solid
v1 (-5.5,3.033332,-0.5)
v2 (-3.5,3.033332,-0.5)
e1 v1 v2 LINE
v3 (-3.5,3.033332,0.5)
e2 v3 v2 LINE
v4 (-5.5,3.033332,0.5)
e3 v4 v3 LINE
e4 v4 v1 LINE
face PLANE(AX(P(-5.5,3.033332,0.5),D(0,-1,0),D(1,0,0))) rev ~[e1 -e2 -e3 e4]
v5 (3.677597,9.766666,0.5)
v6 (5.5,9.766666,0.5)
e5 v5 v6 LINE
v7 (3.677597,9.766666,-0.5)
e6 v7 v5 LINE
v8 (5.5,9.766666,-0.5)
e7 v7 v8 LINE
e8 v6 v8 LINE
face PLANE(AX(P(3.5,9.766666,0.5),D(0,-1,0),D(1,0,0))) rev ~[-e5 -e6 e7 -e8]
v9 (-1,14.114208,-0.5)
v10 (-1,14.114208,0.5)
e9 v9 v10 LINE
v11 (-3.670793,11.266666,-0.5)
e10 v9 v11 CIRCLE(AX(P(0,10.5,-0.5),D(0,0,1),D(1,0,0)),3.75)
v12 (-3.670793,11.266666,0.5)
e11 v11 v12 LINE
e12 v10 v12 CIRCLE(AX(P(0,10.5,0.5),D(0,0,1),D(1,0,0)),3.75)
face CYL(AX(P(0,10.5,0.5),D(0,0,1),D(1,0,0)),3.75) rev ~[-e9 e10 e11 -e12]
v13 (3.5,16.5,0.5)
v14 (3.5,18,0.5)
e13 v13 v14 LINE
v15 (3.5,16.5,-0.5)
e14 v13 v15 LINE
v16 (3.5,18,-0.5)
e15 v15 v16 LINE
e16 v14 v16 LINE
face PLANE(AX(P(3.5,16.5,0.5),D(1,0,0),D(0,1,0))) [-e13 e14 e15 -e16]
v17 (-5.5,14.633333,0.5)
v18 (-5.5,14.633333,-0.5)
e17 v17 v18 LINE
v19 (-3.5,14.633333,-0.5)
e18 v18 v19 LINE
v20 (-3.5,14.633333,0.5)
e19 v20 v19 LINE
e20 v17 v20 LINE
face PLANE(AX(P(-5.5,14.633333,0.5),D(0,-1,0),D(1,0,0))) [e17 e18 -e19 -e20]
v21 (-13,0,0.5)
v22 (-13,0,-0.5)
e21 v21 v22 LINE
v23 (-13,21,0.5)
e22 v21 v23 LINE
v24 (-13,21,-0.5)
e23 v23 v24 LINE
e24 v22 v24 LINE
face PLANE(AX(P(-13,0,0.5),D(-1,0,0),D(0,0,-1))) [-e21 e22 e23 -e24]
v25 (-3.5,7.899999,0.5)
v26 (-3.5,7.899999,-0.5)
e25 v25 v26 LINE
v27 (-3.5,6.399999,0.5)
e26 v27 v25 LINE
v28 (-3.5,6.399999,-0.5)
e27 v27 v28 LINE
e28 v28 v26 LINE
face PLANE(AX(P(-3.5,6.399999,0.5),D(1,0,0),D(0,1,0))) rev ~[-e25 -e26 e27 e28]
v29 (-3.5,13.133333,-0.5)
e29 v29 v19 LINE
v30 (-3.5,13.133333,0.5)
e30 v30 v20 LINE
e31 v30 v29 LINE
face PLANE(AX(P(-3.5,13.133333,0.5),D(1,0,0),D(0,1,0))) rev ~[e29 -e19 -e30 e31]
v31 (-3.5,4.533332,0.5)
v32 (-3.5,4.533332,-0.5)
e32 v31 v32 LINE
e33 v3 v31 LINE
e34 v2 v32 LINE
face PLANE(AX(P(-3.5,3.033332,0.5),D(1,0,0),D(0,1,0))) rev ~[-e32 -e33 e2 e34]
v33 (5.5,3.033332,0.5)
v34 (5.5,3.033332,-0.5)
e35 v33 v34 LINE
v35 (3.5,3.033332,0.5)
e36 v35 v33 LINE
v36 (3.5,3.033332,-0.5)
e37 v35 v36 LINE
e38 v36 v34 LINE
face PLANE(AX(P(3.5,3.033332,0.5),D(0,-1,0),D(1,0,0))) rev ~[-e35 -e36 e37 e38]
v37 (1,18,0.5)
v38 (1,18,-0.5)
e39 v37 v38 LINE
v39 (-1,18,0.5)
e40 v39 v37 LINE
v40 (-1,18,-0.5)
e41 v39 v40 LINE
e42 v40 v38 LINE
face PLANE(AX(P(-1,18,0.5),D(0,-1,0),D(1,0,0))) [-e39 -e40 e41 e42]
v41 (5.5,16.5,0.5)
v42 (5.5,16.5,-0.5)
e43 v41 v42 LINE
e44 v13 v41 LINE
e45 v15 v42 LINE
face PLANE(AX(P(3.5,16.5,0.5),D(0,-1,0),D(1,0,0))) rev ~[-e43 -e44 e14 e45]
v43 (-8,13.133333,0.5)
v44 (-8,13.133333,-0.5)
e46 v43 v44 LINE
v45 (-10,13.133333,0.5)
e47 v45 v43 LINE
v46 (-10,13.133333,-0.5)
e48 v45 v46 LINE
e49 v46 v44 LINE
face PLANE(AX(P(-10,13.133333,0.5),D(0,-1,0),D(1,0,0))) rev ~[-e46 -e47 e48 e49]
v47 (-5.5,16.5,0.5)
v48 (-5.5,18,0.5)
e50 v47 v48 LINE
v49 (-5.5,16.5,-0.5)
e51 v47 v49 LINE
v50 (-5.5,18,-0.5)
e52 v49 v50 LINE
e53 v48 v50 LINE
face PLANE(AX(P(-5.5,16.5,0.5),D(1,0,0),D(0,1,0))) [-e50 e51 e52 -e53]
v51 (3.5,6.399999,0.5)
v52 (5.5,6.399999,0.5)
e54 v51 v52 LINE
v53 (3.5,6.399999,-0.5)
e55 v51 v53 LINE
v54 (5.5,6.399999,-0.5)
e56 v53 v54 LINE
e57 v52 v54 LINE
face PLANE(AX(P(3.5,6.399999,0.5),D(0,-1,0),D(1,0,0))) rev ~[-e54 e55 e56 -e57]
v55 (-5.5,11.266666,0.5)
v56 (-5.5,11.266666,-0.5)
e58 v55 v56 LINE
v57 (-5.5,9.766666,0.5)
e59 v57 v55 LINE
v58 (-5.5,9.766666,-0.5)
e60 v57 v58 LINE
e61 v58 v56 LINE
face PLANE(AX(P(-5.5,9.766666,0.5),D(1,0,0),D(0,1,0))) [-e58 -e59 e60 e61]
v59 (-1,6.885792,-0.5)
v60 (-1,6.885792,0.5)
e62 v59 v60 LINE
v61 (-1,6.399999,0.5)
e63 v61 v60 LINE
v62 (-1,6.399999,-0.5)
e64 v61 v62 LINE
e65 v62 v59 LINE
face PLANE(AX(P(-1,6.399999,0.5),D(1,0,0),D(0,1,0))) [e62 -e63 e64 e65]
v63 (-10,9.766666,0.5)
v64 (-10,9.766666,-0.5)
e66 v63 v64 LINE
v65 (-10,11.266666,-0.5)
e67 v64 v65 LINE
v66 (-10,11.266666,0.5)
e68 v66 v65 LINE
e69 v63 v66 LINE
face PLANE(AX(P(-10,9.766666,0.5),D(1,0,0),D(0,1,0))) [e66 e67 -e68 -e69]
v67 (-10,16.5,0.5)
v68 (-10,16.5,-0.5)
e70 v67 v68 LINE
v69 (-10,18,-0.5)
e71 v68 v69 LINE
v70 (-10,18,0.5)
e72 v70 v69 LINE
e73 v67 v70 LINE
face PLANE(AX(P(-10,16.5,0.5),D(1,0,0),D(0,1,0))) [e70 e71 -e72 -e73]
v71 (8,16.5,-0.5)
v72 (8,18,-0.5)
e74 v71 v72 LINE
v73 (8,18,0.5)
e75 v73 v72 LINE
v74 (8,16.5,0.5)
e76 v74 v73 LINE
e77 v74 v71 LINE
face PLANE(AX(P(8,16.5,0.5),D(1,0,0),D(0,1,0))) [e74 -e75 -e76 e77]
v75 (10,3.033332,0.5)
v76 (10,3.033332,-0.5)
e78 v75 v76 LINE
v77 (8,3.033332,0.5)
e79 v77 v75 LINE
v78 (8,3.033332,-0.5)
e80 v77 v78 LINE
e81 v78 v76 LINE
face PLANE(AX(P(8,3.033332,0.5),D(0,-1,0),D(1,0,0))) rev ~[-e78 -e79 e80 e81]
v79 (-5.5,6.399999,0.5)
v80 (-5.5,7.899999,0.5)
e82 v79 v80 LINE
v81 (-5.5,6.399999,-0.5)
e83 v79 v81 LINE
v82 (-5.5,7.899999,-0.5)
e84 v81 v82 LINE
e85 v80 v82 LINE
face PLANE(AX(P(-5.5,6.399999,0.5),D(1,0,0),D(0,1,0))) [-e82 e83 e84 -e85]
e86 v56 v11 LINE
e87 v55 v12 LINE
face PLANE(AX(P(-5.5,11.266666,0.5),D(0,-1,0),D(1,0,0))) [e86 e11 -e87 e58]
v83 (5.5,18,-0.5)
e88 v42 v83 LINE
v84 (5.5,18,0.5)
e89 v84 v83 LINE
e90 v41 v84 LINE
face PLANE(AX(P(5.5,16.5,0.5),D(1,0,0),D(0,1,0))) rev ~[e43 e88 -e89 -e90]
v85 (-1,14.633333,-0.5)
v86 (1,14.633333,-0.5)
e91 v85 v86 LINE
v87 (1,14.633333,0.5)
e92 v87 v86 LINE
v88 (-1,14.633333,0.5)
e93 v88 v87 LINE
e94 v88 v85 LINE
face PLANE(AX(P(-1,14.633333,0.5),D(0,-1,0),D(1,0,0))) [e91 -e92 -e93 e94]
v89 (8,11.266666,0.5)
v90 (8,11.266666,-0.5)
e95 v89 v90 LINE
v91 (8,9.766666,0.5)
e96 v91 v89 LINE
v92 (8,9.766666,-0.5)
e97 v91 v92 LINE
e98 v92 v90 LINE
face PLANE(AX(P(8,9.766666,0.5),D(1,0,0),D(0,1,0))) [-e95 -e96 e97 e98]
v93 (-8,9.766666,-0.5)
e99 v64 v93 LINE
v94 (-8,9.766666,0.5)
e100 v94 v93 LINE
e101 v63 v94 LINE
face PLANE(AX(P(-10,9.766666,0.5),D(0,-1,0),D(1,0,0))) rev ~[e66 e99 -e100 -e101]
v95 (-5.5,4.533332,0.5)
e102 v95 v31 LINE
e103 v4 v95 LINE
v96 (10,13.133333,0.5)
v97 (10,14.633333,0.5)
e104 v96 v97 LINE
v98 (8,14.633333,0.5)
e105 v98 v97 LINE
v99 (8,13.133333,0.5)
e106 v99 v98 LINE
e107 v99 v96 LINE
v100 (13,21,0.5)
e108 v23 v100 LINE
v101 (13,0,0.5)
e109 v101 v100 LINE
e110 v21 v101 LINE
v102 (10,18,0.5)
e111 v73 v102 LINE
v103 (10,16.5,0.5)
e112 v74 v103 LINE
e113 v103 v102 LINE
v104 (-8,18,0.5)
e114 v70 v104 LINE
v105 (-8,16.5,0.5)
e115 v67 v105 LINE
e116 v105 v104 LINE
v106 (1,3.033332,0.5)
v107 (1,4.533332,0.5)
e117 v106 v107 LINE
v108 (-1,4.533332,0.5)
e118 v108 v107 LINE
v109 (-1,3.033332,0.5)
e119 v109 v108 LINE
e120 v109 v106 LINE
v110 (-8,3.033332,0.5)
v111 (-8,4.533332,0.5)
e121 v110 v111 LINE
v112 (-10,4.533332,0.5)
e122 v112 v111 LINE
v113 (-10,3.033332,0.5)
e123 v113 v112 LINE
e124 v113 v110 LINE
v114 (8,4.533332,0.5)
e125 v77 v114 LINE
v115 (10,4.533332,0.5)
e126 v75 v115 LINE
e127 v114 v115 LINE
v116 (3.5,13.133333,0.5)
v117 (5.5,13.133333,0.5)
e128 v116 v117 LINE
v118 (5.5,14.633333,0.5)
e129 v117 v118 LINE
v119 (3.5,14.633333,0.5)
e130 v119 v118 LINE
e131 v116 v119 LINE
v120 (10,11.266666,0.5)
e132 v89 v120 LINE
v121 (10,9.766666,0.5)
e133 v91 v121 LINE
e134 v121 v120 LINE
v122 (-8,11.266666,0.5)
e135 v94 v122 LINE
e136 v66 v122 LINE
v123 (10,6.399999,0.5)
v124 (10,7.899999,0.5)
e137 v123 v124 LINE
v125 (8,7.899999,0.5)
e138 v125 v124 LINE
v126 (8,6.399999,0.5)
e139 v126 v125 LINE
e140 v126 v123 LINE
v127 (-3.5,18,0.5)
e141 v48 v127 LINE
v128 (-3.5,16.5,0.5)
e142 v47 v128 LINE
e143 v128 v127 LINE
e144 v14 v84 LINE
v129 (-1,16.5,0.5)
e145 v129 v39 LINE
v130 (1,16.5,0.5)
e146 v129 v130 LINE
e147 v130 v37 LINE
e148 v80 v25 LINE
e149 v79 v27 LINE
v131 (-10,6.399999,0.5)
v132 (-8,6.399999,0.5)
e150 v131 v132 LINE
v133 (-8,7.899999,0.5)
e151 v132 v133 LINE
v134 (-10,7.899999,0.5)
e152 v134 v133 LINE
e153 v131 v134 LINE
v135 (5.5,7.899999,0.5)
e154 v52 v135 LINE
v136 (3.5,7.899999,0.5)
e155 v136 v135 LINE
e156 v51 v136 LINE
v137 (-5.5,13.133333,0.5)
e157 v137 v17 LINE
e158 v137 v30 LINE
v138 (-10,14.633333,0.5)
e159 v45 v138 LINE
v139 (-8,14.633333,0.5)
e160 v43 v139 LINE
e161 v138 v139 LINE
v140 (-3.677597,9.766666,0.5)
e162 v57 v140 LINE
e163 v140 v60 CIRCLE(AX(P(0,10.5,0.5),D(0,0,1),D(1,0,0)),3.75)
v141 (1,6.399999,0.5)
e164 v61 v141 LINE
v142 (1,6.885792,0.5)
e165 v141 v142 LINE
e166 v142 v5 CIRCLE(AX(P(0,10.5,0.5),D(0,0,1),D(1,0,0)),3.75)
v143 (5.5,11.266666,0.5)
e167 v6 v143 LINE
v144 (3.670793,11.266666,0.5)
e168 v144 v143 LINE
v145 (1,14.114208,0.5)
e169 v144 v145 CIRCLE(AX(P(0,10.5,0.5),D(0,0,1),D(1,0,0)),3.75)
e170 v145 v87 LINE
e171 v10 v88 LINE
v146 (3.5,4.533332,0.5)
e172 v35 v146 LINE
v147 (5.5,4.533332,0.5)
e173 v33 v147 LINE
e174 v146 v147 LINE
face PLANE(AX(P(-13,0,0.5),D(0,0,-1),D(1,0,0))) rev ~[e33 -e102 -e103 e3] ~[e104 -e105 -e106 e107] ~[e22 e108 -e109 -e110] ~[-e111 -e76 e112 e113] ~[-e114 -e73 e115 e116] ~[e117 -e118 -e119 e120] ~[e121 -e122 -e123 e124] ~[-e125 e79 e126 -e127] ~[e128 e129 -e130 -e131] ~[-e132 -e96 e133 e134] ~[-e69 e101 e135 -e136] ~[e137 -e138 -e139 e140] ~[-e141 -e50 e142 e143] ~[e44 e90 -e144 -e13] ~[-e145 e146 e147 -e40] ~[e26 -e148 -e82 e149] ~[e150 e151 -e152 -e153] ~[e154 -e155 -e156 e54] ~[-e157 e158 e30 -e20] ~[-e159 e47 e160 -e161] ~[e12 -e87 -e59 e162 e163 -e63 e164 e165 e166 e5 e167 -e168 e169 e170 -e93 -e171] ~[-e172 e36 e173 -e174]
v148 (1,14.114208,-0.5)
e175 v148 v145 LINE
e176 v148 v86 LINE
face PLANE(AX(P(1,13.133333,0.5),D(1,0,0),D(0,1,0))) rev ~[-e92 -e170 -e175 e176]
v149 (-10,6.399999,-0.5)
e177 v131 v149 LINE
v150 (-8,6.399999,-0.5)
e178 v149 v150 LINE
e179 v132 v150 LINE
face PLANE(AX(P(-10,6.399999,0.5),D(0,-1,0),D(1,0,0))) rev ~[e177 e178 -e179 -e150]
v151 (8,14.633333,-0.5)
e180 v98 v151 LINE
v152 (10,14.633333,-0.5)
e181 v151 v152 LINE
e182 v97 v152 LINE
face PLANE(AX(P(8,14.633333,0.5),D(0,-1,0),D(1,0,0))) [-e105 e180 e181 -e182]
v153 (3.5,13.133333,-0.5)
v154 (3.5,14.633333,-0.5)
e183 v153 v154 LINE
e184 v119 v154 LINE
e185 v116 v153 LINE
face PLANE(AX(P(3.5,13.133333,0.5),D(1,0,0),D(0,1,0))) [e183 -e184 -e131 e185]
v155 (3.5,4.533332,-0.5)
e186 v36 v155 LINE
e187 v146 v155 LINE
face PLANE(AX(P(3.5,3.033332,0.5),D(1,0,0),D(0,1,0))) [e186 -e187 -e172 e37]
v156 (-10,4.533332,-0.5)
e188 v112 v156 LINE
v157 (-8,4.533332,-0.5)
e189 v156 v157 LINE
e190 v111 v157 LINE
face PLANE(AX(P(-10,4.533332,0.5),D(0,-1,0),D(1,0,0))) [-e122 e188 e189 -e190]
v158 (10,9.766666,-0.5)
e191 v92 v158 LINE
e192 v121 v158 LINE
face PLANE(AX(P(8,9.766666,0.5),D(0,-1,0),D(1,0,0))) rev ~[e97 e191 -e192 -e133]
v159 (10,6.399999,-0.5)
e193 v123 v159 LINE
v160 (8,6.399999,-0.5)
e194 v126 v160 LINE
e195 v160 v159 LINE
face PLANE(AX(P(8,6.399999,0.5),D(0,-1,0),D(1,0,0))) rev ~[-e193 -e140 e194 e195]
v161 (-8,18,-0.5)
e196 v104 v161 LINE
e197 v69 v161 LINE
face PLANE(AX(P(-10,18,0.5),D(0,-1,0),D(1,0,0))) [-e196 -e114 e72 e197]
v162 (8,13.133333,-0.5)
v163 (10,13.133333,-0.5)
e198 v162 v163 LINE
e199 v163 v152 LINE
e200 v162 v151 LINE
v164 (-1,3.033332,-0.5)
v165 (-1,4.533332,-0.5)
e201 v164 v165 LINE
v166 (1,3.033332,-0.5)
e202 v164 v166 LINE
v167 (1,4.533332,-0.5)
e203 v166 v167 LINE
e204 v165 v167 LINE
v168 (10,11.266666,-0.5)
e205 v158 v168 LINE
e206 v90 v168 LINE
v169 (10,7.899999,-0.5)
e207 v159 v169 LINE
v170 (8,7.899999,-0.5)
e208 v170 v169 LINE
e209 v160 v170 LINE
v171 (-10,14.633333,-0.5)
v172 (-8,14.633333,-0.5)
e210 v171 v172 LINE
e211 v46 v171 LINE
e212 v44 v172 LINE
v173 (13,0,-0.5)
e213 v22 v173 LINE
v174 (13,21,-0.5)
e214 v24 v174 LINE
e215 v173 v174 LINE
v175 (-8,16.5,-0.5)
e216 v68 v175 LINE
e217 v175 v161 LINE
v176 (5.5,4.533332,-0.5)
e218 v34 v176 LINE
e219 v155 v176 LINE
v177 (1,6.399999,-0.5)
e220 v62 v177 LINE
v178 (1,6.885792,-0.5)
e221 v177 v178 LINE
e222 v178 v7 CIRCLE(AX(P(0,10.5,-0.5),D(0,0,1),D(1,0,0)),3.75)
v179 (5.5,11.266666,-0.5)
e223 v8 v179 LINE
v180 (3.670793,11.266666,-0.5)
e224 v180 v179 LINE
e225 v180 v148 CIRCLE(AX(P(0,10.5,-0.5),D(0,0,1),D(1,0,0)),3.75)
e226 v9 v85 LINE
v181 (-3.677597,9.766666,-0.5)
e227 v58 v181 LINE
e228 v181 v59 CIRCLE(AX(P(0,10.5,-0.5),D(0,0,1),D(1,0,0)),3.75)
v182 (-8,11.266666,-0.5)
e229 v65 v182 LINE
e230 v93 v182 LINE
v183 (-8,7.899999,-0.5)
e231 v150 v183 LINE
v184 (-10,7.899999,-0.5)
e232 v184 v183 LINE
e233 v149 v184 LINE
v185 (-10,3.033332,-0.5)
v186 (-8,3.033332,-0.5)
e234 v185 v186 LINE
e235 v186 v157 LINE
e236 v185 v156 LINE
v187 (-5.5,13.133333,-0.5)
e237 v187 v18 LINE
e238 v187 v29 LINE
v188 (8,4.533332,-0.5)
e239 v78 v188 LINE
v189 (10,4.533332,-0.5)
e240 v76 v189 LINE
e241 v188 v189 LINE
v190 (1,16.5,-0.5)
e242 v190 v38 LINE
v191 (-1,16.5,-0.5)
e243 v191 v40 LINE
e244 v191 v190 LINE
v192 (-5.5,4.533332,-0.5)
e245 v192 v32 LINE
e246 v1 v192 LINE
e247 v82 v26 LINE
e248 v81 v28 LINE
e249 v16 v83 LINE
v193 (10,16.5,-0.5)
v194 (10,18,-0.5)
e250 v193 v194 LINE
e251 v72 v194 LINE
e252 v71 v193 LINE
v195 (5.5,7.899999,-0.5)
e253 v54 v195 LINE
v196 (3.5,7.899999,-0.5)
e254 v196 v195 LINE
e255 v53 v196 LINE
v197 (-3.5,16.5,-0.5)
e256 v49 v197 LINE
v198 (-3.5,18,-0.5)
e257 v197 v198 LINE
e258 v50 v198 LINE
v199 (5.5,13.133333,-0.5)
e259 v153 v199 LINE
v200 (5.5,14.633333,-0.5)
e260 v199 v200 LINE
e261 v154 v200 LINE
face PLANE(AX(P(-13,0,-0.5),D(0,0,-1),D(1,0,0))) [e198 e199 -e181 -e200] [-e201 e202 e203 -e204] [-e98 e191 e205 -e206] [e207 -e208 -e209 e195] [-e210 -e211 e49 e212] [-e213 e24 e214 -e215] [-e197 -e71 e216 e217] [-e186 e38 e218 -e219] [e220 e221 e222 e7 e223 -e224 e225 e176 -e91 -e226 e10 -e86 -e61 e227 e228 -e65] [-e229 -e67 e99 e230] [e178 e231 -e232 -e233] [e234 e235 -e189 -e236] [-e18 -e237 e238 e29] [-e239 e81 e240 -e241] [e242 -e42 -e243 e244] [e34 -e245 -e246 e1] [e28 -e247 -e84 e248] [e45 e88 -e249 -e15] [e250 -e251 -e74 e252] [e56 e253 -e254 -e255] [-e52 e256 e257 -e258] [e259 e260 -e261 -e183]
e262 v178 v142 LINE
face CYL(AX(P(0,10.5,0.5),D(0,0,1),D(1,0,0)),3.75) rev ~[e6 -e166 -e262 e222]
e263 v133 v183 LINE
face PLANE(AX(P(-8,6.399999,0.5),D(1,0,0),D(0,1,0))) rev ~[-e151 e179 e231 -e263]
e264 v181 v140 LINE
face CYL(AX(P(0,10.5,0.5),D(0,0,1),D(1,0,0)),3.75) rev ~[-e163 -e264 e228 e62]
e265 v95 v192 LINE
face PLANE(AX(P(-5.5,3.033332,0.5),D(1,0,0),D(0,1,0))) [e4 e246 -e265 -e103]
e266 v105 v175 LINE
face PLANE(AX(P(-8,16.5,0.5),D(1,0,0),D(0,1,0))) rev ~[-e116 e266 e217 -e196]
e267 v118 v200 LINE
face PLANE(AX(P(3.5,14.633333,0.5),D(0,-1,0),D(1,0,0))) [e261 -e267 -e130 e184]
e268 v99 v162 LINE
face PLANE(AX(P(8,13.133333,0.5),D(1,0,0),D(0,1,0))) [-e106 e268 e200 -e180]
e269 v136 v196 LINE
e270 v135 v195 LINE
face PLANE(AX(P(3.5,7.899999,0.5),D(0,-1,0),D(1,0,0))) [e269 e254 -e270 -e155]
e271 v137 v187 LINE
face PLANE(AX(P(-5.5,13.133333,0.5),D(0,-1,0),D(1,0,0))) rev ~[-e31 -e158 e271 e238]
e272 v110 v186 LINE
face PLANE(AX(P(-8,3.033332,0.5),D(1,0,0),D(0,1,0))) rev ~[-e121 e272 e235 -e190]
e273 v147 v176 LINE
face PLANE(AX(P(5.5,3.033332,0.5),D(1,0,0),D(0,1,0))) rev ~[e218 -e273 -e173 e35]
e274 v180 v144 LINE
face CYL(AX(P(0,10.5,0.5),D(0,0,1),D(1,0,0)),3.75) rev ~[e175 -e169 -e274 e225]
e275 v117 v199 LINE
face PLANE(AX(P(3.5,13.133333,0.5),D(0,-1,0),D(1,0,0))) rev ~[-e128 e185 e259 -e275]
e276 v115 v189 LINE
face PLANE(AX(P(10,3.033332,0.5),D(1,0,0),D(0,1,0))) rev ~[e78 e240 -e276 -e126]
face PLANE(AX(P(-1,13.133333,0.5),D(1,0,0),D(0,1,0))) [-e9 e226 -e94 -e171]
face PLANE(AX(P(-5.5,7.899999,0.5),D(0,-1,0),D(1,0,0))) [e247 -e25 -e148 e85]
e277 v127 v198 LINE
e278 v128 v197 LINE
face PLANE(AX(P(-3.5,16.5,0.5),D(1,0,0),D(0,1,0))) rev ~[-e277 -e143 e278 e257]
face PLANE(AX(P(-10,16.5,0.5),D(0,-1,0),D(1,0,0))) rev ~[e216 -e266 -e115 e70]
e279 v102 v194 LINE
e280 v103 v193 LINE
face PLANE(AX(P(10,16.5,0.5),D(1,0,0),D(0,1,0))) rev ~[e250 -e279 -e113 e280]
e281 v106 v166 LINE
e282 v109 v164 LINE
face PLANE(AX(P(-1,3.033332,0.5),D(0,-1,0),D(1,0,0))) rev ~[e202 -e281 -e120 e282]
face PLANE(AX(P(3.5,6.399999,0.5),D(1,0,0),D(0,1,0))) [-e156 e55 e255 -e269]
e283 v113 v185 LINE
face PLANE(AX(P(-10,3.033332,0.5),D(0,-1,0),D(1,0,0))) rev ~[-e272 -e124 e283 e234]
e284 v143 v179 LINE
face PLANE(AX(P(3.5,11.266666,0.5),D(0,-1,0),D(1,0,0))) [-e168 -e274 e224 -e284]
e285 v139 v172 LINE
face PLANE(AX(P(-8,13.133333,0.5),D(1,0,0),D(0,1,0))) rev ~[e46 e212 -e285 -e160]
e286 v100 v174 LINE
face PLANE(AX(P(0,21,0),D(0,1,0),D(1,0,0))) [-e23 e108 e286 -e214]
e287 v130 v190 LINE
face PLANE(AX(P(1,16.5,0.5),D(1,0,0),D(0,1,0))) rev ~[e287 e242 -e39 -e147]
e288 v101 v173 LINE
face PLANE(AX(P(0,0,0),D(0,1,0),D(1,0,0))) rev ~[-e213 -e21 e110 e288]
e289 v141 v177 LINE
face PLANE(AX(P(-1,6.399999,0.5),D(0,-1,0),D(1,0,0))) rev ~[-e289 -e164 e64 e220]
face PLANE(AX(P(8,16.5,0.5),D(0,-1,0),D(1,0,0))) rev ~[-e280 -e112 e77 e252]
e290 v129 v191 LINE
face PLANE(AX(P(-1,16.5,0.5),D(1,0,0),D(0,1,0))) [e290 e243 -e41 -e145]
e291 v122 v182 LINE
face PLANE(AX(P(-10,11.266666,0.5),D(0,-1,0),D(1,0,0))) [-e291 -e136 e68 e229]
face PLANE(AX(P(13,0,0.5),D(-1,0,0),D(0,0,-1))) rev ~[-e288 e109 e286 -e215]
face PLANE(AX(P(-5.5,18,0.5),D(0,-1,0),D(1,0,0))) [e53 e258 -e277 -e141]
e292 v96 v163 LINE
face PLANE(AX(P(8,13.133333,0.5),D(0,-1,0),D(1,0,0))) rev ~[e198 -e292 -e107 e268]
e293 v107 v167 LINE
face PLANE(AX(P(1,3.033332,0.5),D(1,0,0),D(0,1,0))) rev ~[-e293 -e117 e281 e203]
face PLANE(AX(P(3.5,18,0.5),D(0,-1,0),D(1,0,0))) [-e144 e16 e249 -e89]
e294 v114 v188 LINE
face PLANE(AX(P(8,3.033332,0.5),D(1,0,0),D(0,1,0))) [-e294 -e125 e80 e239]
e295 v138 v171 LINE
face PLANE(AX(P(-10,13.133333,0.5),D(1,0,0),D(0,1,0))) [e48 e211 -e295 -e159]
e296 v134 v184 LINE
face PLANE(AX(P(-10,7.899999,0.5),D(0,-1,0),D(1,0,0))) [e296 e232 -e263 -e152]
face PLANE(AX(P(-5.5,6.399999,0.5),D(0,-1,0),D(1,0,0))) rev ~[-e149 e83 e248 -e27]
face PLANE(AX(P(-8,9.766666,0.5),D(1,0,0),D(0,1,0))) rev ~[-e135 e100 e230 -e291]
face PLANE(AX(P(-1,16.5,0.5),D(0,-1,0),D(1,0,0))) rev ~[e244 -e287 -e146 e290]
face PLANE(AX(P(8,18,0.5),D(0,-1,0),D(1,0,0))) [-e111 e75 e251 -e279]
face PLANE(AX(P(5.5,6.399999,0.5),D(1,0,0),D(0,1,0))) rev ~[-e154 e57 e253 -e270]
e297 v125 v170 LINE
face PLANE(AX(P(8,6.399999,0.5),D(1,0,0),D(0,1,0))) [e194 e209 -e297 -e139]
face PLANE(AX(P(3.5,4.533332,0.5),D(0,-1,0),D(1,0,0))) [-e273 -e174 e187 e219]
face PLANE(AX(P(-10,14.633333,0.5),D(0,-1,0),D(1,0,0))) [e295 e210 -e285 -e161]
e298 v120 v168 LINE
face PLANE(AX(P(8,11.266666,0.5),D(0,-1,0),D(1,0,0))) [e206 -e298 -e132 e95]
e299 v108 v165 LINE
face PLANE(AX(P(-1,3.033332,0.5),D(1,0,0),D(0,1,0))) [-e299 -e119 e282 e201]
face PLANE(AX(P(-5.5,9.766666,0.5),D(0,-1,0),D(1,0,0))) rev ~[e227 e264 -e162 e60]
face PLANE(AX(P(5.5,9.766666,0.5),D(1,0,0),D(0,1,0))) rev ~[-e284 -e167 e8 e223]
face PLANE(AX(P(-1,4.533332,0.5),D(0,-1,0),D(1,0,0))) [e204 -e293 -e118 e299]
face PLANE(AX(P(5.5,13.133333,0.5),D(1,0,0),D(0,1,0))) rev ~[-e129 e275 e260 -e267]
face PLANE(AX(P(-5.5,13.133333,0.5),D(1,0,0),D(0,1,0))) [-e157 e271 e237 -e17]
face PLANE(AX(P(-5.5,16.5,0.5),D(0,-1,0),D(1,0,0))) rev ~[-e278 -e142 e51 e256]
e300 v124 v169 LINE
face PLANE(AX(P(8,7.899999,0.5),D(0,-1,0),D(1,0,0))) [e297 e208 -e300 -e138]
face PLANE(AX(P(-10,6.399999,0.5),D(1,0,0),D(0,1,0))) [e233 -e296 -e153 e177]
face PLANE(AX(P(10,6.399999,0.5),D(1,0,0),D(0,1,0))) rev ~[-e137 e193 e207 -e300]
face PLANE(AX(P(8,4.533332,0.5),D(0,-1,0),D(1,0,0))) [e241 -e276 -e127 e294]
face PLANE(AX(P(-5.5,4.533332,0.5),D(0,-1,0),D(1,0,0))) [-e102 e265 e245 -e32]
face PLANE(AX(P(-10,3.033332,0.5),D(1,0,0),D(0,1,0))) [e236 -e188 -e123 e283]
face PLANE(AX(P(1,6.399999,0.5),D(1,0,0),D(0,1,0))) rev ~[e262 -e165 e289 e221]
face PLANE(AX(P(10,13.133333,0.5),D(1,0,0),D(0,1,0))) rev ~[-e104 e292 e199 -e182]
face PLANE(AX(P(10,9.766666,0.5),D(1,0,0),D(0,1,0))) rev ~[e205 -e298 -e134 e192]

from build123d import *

# Parameters (mm, degrees)
SKETCH1_W           = 26
SKETCH1_H           = 1
BOSS_EXTRUDE1_DEPTH = 21
SKETCH2_W           = 2
SKETCH2_H           = 1.5
CUT_EXTRUDE1_DEPTH  = 1
CUT_EXTRUDE3_REACH  = 26.718
SKETCH3_R           = 3.75


with BuildPart() as part:
    # Sketch1 → Boss-Extrude1 (new body)
    with BuildSketch(Plane(origin=(0, 0, 0), x_dir=(1, 0, 0), z_dir=(0, 1, 0))):
        Rectangle(SKETCH1_W, SKETCH1_H)
    extrude(amount=BOSS_EXTRUDE1_DEPTH)

    # Sketch2 → Cut-Extrude1 (cut)
    with BuildSketch(Plane.XY.offset(0.5)):
        with Locations((-4.5, 17.25)):
            Rectangle(SKETCH2_W, SKETCH2_H)
        with Locations((-9, 17.25)):
            Rectangle(SKETCH2_W, SKETCH2_H)
        with Locations((0, 17.25)):
            Rectangle(SKETCH2_W, SKETCH2_H)
        with Locations((4.5, 17.25)):
            Rectangle(SKETCH2_W, SKETCH2_H)
        with Locations((9, 17.25)):
            Rectangle(SKETCH2_W, SKETCH2_H)
        with Locations((-9, 13.883333)):
            Rectangle(SKETCH2_W, SKETCH2_H)
        with Locations((-4.5, 13.883333)):
            Rectangle(SKETCH2_W, SKETCH2_H)
        with Locations((0, 13.883333)):
            Rectangle(SKETCH2_W, SKETCH2_H)
        with Locations((4.5, 13.883333)):
            Rectangle(SKETCH2_W, SKETCH2_H)
        with Locations((9, 13.883333)):
            Rectangle(SKETCH2_W, SKETCH2_H)
        with Locations((-9, 10.516666)):
            Rectangle(SKETCH2_W, SKETCH2_H)
        with Locations((-4.5, 10.516666)):
            Rectangle(SKETCH2_W, SKETCH2_H)
        with Locations((0, 10.516666)):
            Rectangle(SKETCH2_W, SKETCH2_H)
        with Locations((4.5, 10.516666)):
            Rectangle(SKETCH2_W, SKETCH2_H)
        with Locations((9, 10.516666)):
            Rectangle(SKETCH2_W, SKETCH2_H)
        with Locations((-9, 7.149999)):
            Rectangle(SKETCH2_W, SKETCH2_H)
        with Locations((-4.5, 7.149999)):
            Rectangle(SKETCH2_W, SKETCH2_H)
        with Locations((0, 7.149999)):
            Rectangle(SKETCH2_W, SKETCH2_H)
        with Locations((4.5, 7.149999)):
            Rectangle(SKETCH2_W, SKETCH2_H)
        with Locations((9, 7.149999)):
            Rectangle(SKETCH2_W, SKETCH2_H)
        with Locations((-9, 3.783332)):
            Rectangle(SKETCH2_W, SKETCH2_H)
        with Locations((-4.5, 3.783332)):
            Rectangle(SKETCH2_W, SKETCH2_H)
        with Locations((0, 3.783332)):
            Rectangle(SKETCH2_W, SKETCH2_H)
        with Locations((4.5, 3.783332)):
            Rectangle(SKETCH2_W, SKETCH2_H)
        with Locations((9, 3.783332)):
            Rectangle(SKETCH2_W, SKETCH2_H)
    extrude(amount=-CUT_EXTRUDE1_DEPTH, mode=Mode.SUBTRACT)

    # Sketch3 → Cut-Extrude3 (cut, up to next)
    with BuildSketch(Plane.XY.offset(0.5), mode=Mode.PRIVATE) as cut_extrude3_sk1:
        with Locations((0, 10.5)):
            Circle(SKETCH3_R)
    cut_extrude3_tool1 = extrude(cut_extrude3_sk1.sketch, amount=-CUT_EXTRUDE3_REACH, mode=Mode.PRIVATE) & part.part
    add(cut_extrude3_tool1.solids().sort_by_distance((0, 10.5, 0.5))[0], mode=Mode.SUBTRACT)


solid = part.part
